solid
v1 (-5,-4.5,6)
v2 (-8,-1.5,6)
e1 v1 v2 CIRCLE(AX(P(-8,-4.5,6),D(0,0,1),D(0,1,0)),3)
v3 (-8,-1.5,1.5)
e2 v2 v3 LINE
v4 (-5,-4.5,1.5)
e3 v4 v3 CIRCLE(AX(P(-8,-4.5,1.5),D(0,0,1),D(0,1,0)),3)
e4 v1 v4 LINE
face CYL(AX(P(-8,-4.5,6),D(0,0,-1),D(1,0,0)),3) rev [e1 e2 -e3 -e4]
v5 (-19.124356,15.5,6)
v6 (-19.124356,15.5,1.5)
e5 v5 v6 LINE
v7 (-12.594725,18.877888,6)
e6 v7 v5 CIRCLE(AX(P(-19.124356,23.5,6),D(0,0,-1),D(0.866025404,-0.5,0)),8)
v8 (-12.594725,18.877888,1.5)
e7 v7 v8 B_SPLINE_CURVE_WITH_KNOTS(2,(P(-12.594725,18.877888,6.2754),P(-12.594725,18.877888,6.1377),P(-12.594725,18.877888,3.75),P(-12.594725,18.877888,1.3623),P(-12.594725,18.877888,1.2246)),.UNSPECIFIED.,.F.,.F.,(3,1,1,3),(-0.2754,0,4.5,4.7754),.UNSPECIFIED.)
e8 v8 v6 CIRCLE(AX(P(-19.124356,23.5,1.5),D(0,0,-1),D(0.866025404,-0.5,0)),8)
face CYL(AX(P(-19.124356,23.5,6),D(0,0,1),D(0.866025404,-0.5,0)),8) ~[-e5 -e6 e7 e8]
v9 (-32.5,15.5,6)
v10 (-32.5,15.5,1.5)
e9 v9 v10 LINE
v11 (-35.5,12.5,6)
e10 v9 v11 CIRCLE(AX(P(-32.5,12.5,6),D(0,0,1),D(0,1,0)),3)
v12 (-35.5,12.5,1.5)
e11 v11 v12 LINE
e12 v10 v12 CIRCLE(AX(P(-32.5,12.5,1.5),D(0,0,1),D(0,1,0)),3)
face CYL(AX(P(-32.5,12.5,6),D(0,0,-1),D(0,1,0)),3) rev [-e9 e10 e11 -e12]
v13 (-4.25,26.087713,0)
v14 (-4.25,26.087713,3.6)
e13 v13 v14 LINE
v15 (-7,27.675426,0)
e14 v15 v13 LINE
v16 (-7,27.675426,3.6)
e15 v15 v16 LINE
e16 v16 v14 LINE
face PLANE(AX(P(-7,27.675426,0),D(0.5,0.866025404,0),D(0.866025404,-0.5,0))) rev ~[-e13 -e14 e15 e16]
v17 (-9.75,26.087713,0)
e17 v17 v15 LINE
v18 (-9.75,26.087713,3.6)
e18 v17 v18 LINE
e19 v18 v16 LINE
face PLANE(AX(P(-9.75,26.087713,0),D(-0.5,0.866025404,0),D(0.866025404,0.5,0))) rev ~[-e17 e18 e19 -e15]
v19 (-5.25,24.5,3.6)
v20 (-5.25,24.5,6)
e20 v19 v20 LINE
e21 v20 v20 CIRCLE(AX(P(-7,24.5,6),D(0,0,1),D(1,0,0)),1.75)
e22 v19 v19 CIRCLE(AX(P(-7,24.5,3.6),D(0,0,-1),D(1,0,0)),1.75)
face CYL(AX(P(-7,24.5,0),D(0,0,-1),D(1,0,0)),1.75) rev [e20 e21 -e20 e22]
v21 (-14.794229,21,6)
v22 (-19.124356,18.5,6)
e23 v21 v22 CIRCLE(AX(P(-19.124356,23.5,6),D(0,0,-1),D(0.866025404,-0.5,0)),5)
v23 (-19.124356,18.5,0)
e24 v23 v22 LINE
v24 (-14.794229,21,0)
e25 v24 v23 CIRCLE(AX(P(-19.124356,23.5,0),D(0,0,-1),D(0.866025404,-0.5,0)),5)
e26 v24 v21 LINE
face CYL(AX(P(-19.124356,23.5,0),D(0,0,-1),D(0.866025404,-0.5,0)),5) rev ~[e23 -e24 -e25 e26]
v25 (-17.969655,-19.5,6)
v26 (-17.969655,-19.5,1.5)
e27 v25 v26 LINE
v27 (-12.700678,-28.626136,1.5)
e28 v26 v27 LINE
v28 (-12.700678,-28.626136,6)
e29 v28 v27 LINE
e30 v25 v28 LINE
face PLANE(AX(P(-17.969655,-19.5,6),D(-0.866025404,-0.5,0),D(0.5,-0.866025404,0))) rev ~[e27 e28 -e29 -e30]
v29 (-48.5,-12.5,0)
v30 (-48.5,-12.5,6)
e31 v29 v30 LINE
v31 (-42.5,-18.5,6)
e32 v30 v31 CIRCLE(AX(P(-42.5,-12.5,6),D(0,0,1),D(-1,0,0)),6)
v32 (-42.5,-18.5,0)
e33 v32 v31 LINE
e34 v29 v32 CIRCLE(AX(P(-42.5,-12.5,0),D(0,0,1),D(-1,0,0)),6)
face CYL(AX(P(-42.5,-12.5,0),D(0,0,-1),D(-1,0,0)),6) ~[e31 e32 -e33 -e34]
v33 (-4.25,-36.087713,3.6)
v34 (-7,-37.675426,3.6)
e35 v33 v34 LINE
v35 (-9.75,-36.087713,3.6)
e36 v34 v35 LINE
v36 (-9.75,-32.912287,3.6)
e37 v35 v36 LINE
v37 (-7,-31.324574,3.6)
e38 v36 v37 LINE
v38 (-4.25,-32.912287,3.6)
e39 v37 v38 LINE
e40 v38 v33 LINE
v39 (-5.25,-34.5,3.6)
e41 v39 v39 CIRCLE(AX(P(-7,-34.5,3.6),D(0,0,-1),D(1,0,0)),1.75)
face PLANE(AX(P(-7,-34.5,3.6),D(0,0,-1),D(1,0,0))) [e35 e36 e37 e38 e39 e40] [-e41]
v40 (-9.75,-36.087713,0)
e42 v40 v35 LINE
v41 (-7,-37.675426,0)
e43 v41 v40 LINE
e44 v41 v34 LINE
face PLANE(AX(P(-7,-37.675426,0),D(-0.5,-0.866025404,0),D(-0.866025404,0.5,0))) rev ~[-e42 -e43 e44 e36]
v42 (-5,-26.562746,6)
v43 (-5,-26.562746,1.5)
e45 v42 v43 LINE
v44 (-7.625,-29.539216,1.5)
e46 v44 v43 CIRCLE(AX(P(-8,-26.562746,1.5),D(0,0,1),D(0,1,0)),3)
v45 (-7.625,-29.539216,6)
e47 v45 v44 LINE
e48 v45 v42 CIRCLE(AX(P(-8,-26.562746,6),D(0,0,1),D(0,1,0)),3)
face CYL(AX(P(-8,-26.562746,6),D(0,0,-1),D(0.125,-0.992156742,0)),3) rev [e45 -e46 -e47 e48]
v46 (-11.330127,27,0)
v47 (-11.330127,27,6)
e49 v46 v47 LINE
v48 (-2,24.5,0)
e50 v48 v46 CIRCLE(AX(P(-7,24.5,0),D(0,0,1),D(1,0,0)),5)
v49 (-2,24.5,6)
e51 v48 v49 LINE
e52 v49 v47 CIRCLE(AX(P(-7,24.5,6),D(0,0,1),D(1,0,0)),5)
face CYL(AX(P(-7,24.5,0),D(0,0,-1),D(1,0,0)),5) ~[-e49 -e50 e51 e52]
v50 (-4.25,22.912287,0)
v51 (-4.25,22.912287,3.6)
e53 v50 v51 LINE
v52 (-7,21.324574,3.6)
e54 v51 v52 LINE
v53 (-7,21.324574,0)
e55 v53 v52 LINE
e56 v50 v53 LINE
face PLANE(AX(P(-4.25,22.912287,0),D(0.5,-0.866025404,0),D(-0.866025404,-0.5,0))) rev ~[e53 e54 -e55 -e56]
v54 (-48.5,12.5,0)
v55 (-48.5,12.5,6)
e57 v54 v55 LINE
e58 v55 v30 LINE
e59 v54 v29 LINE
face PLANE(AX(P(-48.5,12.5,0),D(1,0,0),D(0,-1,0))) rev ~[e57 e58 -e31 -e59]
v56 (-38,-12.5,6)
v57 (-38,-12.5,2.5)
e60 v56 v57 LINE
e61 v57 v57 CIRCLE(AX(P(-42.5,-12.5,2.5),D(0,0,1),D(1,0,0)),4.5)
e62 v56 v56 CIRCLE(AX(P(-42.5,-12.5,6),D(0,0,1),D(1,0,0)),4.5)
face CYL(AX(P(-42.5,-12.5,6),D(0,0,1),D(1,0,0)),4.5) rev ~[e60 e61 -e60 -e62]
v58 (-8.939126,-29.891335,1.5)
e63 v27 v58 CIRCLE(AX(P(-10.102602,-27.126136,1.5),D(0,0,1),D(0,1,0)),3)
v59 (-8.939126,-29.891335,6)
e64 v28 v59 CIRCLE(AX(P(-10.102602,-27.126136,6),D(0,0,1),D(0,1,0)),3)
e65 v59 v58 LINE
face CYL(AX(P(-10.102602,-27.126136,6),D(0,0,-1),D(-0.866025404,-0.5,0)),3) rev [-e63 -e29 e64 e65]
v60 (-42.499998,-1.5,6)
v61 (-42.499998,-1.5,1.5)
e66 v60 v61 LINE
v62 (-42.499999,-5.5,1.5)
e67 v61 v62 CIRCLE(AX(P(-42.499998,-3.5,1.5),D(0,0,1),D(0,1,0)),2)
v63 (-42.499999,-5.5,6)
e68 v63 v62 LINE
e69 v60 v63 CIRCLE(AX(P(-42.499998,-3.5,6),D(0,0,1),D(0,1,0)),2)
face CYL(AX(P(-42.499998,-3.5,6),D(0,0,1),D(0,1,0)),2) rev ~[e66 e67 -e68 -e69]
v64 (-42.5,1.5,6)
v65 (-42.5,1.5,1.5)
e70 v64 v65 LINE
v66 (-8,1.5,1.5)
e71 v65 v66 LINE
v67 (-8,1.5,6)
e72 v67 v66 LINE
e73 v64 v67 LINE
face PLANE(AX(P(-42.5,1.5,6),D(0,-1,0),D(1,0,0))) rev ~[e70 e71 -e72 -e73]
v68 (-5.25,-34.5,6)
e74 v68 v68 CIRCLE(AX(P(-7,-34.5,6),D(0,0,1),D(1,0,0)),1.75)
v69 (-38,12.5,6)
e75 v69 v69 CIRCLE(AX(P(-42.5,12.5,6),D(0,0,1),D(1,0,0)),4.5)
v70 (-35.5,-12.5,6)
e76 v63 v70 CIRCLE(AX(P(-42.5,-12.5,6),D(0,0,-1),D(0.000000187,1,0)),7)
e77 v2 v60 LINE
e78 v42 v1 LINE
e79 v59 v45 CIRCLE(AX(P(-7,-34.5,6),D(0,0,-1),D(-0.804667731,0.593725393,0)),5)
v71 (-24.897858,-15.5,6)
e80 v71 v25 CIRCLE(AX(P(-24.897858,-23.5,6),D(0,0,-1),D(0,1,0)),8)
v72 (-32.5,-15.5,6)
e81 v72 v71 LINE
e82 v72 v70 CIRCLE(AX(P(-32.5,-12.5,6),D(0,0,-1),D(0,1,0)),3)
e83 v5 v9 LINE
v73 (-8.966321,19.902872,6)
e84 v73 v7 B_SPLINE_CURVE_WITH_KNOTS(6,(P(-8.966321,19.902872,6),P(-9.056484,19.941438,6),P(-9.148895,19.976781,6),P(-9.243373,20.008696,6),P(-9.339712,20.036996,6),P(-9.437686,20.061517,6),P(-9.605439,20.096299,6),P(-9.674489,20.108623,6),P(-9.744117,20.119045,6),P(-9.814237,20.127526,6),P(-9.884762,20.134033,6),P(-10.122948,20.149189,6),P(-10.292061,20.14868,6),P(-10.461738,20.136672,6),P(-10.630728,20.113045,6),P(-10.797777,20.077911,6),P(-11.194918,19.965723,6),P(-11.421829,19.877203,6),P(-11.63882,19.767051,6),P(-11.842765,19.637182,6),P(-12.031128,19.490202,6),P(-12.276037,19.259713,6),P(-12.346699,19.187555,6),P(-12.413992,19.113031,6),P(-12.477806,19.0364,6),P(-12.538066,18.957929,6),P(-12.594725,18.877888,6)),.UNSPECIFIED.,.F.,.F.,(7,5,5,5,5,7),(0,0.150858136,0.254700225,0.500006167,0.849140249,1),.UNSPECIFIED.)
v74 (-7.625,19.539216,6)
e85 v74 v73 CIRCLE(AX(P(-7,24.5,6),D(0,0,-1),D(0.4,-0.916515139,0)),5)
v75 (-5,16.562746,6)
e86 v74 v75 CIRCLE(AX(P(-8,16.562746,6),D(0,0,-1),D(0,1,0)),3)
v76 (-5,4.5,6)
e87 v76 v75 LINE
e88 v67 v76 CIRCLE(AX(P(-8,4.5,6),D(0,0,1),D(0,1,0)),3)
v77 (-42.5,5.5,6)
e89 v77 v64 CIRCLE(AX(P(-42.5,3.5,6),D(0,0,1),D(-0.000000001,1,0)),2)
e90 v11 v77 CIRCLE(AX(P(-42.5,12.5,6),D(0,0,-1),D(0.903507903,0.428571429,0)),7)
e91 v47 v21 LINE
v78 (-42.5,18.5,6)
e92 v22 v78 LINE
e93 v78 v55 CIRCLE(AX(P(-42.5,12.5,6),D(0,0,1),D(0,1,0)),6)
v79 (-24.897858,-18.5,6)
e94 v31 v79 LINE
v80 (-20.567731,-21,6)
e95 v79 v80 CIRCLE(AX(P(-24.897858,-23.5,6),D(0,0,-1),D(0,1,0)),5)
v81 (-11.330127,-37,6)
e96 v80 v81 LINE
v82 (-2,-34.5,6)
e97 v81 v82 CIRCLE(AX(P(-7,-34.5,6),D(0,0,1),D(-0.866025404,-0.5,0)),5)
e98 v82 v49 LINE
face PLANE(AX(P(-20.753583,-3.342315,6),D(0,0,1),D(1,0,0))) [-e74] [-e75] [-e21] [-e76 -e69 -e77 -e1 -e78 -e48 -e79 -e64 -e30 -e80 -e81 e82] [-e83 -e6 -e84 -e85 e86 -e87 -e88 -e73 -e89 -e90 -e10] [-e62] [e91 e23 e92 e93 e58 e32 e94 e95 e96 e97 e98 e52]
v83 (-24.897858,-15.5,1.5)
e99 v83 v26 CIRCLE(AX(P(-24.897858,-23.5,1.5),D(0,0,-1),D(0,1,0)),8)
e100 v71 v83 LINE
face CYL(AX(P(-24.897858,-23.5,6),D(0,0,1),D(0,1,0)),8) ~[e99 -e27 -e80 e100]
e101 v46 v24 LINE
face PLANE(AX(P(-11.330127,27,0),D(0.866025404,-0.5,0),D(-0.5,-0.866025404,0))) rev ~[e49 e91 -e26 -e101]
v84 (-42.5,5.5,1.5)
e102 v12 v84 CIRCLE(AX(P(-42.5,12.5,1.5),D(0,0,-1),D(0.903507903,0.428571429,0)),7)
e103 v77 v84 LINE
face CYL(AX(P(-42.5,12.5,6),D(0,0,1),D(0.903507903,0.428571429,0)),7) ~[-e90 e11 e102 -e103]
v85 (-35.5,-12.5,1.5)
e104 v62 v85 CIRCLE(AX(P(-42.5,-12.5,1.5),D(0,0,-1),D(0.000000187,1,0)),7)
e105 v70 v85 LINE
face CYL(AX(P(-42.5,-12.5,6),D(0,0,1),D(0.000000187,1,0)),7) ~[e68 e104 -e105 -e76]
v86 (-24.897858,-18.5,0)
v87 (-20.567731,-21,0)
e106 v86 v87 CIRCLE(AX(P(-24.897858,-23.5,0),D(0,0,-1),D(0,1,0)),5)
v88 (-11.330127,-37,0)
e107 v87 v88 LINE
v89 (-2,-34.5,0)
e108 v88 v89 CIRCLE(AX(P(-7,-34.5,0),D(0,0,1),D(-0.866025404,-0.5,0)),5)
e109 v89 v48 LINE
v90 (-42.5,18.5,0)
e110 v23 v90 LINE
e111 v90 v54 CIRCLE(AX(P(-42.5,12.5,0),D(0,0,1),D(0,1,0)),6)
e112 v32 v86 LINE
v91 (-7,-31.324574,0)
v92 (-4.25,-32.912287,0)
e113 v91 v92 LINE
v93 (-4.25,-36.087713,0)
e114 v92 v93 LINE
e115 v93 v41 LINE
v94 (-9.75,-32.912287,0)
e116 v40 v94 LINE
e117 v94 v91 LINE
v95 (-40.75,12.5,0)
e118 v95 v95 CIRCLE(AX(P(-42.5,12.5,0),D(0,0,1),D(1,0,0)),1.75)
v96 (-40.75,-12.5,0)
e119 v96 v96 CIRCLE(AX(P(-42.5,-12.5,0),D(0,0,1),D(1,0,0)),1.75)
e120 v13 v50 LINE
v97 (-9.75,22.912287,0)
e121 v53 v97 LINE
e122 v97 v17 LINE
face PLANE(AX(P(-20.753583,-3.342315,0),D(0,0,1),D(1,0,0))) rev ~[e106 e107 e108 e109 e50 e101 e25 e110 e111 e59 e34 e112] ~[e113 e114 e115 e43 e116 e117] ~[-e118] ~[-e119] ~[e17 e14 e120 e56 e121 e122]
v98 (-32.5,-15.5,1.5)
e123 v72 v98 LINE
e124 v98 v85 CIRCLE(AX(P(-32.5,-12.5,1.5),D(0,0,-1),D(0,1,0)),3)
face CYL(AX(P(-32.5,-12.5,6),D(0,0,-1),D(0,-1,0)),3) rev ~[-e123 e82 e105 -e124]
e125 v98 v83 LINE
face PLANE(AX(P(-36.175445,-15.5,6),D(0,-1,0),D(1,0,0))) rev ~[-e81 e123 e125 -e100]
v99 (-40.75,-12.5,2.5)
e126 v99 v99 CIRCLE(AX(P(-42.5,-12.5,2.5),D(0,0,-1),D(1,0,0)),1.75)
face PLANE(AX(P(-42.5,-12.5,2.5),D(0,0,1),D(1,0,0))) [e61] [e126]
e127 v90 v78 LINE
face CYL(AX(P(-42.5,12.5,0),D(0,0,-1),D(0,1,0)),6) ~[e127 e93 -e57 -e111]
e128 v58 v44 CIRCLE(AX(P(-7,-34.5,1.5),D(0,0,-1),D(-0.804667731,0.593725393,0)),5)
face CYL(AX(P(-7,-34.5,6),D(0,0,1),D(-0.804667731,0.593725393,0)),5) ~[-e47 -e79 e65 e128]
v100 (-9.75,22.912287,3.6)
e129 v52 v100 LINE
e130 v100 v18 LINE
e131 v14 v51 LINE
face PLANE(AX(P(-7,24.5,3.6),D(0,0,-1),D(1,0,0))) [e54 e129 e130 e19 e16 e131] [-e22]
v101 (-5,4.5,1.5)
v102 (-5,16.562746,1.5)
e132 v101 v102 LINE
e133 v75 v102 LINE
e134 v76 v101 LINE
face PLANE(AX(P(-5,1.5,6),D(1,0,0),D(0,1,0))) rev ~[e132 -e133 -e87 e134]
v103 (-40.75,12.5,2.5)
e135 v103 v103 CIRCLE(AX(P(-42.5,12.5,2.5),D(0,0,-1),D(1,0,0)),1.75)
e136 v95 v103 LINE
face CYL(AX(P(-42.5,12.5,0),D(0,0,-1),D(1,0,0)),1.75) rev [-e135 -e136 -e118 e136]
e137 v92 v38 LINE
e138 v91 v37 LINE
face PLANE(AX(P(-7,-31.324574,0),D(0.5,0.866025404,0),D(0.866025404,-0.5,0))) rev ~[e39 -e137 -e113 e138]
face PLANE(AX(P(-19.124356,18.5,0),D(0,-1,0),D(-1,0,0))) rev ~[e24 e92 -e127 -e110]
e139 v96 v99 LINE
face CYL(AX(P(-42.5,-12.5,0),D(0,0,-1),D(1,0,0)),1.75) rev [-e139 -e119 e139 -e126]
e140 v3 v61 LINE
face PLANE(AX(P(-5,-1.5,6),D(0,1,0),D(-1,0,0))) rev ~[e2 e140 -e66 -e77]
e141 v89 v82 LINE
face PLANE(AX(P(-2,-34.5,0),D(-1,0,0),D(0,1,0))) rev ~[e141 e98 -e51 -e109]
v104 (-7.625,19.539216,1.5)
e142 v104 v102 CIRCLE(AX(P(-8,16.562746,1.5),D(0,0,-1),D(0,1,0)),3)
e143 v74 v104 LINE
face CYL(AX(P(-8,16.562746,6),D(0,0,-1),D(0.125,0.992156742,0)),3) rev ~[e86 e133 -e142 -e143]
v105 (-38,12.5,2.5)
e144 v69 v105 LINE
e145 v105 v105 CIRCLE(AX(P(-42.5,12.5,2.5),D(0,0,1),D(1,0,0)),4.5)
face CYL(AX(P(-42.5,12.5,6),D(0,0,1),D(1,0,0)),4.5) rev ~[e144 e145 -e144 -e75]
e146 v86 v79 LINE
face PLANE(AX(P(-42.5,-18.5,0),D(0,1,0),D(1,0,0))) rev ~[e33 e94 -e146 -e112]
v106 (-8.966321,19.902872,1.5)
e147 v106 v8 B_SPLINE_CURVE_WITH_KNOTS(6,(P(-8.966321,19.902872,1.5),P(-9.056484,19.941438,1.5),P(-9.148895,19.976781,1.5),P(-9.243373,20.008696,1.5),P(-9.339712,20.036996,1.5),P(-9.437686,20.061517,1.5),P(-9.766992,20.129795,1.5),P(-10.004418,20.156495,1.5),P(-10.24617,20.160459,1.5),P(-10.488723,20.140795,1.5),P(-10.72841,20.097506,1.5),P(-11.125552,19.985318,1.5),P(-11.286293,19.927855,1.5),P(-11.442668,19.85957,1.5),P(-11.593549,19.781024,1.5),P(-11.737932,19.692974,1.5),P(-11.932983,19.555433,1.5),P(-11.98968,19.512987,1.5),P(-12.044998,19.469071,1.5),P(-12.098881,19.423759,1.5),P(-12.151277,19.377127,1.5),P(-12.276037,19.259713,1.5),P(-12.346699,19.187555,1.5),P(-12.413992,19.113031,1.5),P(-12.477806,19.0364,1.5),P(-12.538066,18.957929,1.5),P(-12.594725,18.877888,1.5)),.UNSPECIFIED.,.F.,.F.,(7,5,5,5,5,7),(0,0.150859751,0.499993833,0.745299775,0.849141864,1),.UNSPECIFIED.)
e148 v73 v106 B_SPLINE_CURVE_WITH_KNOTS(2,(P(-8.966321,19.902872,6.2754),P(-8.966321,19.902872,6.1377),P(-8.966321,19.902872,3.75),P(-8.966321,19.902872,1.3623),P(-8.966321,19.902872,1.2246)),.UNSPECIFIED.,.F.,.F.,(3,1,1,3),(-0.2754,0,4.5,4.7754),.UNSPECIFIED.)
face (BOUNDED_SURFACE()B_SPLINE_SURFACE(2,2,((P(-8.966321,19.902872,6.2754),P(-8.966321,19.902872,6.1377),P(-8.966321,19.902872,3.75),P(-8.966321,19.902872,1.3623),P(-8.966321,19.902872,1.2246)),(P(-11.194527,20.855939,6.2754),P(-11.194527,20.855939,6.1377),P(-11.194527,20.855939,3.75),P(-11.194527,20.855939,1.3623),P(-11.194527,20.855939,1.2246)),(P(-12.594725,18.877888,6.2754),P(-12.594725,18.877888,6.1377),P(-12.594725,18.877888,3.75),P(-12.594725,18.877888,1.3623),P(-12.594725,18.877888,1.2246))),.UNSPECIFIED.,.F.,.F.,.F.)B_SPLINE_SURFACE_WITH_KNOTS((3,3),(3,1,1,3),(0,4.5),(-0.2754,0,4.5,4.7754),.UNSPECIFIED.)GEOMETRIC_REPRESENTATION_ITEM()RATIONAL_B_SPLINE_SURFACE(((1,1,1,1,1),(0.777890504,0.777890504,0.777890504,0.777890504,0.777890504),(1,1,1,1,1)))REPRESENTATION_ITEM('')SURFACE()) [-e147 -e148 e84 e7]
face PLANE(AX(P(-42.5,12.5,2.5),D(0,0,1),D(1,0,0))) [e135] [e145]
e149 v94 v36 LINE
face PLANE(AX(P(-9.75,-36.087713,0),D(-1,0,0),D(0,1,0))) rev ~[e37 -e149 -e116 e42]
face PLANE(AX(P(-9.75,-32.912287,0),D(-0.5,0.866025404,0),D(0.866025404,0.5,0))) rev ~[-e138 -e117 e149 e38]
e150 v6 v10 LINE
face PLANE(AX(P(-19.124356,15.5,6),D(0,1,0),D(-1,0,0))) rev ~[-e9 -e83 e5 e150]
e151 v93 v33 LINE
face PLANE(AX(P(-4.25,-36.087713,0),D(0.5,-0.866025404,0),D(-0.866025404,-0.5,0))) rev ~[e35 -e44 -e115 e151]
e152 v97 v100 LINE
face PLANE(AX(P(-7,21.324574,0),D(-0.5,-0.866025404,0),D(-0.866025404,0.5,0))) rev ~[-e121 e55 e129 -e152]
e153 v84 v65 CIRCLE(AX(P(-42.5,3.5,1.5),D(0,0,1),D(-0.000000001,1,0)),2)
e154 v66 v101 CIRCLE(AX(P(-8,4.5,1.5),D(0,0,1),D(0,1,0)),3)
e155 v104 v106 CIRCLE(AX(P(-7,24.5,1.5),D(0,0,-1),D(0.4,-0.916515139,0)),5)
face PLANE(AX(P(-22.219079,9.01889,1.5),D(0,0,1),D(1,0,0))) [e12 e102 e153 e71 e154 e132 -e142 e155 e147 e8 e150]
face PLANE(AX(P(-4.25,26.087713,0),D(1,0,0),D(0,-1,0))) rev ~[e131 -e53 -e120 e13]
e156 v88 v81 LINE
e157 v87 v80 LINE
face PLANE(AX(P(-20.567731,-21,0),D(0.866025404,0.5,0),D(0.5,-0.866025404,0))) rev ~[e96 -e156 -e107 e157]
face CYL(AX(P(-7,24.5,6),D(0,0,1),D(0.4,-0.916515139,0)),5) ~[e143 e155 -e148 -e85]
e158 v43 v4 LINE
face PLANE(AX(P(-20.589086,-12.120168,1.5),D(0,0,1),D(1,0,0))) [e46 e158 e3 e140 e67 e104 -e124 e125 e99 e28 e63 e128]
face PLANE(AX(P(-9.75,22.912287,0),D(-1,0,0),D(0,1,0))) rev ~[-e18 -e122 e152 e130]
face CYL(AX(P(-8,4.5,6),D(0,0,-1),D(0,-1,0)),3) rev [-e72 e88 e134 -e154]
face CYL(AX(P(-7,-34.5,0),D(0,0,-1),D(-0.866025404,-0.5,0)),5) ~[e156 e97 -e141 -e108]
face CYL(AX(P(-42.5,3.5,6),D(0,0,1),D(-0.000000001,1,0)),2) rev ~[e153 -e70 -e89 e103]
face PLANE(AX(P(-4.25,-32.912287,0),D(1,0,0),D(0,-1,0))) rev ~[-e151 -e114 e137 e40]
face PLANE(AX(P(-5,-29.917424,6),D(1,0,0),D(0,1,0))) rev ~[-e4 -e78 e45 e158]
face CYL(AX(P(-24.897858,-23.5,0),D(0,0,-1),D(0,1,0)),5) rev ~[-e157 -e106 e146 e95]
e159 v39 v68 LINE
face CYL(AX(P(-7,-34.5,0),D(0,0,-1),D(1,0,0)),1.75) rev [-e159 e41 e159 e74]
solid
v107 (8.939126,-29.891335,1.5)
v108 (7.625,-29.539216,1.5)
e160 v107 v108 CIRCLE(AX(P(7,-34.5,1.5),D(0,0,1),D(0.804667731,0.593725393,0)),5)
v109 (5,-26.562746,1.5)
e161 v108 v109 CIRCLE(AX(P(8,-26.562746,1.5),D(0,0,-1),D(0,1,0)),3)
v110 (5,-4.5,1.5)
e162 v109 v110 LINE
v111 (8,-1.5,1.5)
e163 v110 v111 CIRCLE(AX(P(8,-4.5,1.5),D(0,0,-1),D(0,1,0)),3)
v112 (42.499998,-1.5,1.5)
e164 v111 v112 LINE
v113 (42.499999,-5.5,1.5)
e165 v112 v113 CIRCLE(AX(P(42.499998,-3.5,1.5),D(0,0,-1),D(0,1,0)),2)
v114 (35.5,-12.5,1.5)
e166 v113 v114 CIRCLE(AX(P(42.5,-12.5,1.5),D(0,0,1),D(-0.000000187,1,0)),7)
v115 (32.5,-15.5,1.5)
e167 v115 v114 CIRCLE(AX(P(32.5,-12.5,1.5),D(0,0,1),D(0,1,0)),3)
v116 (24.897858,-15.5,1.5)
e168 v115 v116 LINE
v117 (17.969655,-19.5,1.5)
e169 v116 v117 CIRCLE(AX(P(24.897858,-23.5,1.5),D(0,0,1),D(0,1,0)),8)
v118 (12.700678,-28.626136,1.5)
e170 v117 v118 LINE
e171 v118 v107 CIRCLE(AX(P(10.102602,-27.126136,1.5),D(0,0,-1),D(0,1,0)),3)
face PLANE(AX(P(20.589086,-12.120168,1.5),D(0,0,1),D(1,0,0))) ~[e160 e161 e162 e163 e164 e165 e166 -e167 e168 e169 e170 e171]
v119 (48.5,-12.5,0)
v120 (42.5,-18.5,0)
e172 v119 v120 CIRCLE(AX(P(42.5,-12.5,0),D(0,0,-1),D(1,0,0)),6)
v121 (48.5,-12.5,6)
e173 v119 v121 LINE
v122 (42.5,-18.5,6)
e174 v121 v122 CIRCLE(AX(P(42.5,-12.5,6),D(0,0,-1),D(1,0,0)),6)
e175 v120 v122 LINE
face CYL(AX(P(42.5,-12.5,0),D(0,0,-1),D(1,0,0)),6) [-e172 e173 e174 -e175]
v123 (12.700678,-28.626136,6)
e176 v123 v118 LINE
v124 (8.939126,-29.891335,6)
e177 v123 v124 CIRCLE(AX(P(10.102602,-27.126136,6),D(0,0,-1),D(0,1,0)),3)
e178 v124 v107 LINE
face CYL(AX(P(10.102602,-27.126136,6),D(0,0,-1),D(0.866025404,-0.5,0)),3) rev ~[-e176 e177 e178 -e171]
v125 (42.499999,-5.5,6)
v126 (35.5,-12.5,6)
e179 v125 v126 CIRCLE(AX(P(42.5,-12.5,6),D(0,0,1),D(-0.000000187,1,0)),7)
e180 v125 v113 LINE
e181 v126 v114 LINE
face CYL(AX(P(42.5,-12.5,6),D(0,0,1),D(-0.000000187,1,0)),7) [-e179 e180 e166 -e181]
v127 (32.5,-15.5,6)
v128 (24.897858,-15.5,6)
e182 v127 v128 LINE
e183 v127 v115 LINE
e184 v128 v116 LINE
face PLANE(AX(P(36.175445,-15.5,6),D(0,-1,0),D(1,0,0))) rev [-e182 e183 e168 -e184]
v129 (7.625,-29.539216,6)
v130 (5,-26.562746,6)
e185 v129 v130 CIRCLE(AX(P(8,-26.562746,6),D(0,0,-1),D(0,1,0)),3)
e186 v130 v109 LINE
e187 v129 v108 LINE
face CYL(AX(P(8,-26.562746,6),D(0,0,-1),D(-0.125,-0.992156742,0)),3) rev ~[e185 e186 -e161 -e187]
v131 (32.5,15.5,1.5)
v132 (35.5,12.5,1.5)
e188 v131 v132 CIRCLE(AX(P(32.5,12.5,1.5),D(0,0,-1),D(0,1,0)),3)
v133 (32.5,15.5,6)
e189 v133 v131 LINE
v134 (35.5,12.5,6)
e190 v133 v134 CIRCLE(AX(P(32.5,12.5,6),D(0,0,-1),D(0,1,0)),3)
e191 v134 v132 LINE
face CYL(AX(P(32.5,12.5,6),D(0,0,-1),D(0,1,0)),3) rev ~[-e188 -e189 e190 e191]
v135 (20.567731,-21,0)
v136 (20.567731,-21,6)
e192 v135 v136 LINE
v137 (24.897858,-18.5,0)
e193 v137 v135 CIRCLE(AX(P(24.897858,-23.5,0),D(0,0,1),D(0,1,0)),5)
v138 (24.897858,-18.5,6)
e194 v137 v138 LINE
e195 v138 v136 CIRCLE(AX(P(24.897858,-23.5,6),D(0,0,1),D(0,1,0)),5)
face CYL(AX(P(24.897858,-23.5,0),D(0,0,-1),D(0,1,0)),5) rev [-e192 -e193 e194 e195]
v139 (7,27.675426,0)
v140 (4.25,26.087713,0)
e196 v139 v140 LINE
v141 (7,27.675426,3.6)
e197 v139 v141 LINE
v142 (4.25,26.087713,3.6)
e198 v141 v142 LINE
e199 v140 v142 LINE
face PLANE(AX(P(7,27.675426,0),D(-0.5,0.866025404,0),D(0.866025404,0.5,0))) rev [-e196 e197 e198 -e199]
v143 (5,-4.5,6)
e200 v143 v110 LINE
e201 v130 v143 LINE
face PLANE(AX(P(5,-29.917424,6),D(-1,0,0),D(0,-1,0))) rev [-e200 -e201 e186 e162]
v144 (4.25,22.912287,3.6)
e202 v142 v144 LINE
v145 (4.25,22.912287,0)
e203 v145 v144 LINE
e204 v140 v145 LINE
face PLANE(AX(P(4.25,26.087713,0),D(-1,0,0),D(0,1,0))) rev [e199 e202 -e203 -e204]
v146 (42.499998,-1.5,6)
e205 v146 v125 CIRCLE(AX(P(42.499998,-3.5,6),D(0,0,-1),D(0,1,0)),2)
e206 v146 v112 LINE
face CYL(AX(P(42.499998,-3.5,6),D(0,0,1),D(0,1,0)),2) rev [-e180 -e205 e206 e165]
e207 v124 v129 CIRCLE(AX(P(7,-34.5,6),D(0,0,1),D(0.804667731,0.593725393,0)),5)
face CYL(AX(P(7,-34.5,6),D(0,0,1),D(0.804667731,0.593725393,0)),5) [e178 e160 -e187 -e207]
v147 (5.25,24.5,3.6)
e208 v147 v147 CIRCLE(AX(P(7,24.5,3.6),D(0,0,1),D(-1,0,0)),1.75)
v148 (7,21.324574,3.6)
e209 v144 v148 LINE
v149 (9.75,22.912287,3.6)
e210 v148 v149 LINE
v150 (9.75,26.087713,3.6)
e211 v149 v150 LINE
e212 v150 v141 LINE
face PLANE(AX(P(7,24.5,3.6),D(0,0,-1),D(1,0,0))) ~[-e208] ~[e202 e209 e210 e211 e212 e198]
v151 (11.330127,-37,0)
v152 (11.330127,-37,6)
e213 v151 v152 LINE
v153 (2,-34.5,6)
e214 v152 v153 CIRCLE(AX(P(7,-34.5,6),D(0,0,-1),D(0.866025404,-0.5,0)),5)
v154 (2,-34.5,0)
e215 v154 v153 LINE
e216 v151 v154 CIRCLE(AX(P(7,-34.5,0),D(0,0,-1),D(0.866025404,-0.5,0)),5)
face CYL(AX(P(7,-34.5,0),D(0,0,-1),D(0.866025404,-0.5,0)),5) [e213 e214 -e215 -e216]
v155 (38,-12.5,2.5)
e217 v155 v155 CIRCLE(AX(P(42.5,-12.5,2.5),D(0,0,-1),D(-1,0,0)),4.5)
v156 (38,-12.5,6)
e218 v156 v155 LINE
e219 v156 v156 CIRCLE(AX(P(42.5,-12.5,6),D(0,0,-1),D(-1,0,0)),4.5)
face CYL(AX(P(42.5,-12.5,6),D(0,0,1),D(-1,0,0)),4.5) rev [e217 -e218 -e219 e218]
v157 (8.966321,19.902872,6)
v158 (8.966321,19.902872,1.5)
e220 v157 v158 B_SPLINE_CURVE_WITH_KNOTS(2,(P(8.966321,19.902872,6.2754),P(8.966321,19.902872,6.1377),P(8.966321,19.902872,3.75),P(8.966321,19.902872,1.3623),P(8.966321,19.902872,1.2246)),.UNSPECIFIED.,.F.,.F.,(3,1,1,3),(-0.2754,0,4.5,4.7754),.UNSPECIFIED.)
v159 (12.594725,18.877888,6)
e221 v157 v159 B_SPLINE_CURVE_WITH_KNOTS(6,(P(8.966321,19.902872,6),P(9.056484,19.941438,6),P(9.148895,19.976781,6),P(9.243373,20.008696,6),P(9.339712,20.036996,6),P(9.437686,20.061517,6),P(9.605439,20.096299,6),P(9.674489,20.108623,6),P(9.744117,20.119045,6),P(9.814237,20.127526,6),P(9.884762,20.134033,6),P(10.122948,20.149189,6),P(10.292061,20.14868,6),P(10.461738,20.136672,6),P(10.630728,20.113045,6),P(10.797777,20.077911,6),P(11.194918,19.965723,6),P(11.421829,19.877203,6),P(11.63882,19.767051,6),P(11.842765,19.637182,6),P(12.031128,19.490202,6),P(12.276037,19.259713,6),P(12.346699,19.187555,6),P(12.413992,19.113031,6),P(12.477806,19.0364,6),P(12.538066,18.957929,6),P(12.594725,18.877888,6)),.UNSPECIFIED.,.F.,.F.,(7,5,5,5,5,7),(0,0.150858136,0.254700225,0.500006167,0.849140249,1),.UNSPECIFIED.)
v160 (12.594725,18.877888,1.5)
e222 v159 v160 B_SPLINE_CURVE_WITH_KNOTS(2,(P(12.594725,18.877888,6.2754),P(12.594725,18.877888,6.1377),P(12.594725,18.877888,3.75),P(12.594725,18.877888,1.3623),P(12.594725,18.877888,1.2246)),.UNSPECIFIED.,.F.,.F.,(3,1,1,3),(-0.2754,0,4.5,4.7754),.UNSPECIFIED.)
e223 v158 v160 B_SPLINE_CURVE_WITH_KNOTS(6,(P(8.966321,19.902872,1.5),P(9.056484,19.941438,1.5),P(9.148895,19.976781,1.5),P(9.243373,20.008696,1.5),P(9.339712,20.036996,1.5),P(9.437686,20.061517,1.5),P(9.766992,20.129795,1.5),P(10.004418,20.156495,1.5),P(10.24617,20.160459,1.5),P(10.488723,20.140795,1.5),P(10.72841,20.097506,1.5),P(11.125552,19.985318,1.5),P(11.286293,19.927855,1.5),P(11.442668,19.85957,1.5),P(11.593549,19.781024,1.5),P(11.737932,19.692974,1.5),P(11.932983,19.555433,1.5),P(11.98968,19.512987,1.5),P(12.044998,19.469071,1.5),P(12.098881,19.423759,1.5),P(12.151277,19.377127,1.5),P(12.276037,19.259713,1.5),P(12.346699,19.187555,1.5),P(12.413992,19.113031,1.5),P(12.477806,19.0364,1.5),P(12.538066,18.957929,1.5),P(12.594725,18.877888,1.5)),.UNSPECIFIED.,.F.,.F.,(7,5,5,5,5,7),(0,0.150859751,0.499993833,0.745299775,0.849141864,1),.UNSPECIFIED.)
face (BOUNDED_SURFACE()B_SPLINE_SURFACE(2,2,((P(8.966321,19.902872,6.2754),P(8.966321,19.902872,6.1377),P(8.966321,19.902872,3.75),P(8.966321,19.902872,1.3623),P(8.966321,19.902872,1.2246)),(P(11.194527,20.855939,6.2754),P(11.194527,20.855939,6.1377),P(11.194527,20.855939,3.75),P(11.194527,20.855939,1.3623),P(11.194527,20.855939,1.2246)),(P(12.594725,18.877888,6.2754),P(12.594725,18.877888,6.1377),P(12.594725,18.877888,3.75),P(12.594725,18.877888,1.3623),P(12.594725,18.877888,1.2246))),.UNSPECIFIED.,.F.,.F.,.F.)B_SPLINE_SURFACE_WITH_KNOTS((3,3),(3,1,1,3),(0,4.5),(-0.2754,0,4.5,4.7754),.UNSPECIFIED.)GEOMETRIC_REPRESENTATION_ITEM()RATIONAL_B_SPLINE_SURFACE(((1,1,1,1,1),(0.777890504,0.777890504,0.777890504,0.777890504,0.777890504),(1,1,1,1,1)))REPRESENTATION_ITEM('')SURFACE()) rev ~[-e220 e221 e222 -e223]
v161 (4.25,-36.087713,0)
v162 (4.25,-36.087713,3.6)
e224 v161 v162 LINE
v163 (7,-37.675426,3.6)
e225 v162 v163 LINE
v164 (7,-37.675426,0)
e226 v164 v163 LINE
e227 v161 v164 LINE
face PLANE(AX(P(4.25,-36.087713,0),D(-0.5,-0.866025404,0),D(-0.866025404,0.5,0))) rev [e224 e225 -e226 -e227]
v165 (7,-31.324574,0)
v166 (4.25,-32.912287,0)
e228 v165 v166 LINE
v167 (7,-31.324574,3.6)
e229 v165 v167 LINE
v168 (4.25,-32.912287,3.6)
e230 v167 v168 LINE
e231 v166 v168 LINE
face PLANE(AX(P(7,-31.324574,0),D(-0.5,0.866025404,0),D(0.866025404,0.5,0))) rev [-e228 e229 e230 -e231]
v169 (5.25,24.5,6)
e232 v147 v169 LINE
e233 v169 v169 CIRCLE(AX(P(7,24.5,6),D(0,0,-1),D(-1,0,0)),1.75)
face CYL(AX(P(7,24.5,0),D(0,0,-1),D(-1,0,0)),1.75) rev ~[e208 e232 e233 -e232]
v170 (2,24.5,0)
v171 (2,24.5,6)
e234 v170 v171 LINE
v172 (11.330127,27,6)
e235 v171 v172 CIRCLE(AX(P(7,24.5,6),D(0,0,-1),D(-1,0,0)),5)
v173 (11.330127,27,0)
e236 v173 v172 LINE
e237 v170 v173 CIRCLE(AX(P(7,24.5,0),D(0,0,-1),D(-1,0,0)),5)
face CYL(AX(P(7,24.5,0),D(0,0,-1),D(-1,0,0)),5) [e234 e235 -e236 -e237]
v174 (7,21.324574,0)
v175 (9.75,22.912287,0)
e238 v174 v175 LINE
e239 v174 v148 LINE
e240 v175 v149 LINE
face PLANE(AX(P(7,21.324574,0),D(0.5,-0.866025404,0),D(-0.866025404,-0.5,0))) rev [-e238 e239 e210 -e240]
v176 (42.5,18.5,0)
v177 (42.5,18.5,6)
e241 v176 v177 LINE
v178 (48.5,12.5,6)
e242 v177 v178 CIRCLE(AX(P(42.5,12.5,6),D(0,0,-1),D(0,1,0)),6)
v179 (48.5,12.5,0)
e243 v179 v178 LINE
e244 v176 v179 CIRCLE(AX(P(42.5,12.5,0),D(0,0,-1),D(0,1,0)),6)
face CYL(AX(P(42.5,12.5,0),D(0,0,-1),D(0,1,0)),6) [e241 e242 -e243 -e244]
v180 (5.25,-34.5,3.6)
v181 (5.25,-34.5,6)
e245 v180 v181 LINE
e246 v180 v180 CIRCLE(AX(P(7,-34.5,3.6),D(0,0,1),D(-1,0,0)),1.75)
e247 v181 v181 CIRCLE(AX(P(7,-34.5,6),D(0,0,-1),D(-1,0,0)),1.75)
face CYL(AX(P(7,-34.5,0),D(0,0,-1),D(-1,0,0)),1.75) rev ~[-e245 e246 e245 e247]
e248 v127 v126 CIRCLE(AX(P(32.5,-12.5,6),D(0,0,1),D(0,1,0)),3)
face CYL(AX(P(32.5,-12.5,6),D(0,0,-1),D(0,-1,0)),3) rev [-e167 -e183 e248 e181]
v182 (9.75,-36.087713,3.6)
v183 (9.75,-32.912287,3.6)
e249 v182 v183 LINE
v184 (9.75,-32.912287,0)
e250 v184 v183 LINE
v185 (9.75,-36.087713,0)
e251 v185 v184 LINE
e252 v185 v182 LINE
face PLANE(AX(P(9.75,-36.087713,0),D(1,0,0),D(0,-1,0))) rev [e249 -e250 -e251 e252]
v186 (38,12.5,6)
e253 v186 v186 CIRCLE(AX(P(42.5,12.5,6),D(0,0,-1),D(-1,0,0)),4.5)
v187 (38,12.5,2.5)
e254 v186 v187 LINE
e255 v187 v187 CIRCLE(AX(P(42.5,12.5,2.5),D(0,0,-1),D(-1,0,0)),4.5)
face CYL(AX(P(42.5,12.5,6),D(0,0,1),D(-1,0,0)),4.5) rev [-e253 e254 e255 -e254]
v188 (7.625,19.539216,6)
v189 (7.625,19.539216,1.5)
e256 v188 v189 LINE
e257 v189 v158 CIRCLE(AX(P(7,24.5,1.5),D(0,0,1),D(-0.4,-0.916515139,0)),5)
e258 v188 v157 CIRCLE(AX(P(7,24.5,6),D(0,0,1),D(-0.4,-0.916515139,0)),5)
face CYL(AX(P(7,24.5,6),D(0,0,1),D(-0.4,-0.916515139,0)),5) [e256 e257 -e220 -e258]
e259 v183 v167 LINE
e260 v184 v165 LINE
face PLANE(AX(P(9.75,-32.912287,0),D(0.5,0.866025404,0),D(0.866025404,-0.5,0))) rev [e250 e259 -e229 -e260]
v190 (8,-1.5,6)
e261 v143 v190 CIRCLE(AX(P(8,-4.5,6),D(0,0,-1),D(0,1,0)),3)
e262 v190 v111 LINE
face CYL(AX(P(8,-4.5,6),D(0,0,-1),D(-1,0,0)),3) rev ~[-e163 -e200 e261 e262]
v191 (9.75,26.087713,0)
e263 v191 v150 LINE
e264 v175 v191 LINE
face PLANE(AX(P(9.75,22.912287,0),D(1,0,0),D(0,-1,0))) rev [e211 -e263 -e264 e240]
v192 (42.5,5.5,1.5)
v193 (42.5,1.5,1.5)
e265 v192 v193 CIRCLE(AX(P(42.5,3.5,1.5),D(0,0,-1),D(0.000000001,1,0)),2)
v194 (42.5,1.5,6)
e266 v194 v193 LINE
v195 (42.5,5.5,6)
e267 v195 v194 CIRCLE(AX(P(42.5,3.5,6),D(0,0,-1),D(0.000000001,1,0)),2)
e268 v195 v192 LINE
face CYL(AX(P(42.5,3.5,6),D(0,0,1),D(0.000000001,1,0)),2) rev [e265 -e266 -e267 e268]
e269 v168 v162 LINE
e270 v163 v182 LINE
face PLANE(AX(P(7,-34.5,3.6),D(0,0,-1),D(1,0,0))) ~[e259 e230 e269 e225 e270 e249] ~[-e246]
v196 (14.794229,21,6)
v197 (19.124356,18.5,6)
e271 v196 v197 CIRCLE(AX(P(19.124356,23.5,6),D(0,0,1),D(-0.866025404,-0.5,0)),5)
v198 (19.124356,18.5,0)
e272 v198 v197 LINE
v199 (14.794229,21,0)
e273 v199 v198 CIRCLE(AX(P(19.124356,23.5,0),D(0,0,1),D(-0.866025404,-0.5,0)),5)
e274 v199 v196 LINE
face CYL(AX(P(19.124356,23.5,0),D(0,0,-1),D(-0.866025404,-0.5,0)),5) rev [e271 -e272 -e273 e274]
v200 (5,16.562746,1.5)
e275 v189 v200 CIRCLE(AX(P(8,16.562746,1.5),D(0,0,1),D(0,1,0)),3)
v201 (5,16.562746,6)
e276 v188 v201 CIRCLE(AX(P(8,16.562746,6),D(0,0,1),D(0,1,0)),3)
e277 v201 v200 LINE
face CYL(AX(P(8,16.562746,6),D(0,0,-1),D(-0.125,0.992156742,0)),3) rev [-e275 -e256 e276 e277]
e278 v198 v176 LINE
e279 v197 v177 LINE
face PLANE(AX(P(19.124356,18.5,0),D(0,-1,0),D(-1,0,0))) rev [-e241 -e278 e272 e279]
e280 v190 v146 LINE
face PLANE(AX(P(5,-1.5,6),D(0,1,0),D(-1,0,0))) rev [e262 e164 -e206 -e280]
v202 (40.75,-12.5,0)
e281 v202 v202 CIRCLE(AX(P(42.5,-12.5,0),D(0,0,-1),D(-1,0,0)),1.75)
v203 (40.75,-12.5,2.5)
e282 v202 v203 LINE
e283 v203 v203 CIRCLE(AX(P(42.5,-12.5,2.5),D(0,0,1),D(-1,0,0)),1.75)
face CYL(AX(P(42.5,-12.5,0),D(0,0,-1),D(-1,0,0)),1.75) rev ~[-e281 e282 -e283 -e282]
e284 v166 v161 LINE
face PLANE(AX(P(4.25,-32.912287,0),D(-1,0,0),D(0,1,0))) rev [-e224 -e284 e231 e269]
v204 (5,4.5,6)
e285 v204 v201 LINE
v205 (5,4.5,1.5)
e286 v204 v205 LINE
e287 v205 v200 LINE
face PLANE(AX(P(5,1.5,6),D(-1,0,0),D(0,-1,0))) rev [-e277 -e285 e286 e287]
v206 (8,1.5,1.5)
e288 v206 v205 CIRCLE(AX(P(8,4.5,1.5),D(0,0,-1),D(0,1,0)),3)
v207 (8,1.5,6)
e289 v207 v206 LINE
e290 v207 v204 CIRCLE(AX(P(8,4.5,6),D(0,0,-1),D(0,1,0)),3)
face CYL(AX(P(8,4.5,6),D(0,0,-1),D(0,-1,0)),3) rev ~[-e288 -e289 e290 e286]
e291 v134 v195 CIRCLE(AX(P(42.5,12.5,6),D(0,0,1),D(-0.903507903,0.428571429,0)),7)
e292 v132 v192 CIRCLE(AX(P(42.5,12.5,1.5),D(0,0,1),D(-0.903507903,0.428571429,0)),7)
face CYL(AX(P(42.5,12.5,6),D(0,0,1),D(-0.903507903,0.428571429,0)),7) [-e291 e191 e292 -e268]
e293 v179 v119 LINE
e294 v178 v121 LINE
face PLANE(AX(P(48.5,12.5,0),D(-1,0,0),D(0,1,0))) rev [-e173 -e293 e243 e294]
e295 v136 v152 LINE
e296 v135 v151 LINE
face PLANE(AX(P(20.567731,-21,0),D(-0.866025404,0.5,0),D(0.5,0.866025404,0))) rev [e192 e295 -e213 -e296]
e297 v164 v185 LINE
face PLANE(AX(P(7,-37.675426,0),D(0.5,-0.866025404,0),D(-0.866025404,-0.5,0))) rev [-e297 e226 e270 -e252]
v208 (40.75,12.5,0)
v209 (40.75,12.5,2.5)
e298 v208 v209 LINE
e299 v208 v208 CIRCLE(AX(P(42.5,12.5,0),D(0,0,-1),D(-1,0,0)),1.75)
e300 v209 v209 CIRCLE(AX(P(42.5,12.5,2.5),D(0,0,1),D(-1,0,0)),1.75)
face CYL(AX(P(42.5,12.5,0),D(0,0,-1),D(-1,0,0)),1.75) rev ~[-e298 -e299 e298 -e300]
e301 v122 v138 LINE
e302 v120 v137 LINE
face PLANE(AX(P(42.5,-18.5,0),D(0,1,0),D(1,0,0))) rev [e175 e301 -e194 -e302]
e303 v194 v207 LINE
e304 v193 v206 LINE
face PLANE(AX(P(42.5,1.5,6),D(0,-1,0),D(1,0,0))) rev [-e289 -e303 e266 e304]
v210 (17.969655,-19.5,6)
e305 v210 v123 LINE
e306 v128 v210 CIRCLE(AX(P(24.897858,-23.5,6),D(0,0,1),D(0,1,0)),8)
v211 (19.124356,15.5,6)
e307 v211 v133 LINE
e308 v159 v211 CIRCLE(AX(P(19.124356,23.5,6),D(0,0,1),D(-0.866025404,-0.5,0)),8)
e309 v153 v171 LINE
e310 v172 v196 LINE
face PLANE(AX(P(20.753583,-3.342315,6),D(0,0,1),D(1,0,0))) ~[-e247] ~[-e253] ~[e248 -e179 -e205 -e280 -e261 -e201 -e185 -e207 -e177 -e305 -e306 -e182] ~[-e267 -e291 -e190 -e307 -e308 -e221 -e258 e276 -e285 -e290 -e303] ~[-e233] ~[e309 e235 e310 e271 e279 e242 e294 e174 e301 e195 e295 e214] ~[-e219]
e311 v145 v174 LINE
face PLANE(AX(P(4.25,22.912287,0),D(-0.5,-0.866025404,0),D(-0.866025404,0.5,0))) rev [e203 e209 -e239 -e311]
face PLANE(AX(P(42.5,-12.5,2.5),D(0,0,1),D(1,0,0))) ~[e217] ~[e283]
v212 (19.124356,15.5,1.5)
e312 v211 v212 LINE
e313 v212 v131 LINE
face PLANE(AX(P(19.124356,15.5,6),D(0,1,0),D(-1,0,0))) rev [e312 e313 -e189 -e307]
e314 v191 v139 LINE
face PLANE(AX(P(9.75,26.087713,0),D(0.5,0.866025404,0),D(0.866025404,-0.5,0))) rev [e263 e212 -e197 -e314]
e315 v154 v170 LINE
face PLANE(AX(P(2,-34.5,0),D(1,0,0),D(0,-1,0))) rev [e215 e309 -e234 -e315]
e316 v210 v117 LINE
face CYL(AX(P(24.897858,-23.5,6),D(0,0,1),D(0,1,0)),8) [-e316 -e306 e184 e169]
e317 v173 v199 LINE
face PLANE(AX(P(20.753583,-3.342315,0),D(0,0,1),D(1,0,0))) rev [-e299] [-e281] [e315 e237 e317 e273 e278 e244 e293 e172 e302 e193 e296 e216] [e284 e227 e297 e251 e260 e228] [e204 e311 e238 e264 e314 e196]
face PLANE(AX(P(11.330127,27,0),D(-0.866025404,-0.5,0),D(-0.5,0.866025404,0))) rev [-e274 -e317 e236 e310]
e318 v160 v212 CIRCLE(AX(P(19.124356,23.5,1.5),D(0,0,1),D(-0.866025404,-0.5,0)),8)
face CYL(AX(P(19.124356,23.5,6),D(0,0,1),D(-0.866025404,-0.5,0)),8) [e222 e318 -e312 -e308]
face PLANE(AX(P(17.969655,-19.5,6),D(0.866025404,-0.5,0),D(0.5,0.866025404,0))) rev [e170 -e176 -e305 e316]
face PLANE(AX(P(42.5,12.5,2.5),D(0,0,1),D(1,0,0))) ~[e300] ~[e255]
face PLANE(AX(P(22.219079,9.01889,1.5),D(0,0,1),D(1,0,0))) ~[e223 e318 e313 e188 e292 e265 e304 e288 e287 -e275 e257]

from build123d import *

# Parameters (mm, degrees)
F0_R     = 1.75
F1_DEPTH = 6
F2_R     = 4.5
F3_DEPTH = 3.5
F5_DEPTH = 3.6
F7_DEPTH = 4.5
F8_R     = 3


with BuildPart() as f1:
    # F0 (on Top) → F1 (new body)
    with BuildSketch(Plane.XY):
        with BuildLine():
            Line((-19.124355653, 18.5), (-42.5, 18.5))
            ThreePointArc((-42.5, 18.5), (-46.7426406871, 16.7426406871), (-48.5, 12.5))
            Line((-48.5, 12.5), (-48.5, -12.5))
            ThreePointArc((-48.5, -12.5), (-46.7426406871, -16.7426406871), (-42.5, -18.5))
            Line((-42.5, -18.5), (-24.8978583449, -18.5))
            ThreePointArc((-24.8978583449, -18.5), (-22.3978583449, -19.1698729811), (-20.567731326, -21))
            Line((-20.567731326, -21), (-11.3301270189, -37))
            ThreePointArc((-11.3301270189, -37), (-5.7059047745, -39.3296291314), (-2, -34.5))
            Line((-2, -34.5), (-2, 24.5))
            ThreePointArc((-2, 24.5), (-5.7059047745, 29.3296291314), (-11.3301270189, 27))
            Line((-11.3301270189, 27), (-14.7942286341, 21))
            ThreePointArc((-14.7942286341, 21), (-16.624355653, 19.1698729811), (-19.124355653, 18.5))
        make_face()
        with Locations((-42.5, -12.5)):
            Circle(F0_R, mode=Mode.SUBTRACT)
        with Locations((-7, -34.5)):
            Circle(F0_R, mode=Mode.SUBTRACT)
        with Locations((-42.5, 12.5)):
            Circle(F0_R, mode=Mode.SUBTRACT)
        with Locations((-7, 24.5)):
            Circle(F0_R, mode=Mode.SUBTRACT)
    extrude(amount=F1_DEPTH)

    # F2 (on face) → F3 (cut, through all)
    with BuildSketch(Plane.XY.offset(6)):
        with Locations((-42.5, 12.5)):
            Circle(F2_R)
        with Locations((-42.5, -12.5)):
            Circle(F2_R)
    extrude(amount=-F3_DEPTH, mode=Mode.SUBTRACT)

    # F4 (on face) → F5 (cut, through all)
    with BuildSketch(Plane(origin=(0, 0, 0), x_dir=(1, 0, 0), z_dir=(0, 0, -1))):
        Polygon((-4.25, 32.9122867597), (-4.25, 36.0877132403), (-7, 37.6754264805), (-9.75, 36.0877132403), (-9.75, 32.9122867597), (-7, 31.3245735195), align=None)
        Polygon((-4.25, -22.9122867597), (-7, -21.3245735195), (-9.75, -22.9122867597), (-9.75, -26.0877132403), (-7, -27.6754264805), (-4.25, -26.0877132403), align=None)
    extrude(amount=-F5_DEPTH, mode=Mode.SUBTRACT)

    # F6 (on face) → F7 (cut, through all)
    with BuildSketch(Plane.XY.offset(6)):
        with BuildLine():
            Line((-36.1754446797, -15.5), (-24.8978583449, -15.5))
            ThreePointArc((-24.8978583449, -15.5), (-20.8978583449, -16.5717967697), (-17.9696551146, -19.5))
            Line((-17.9696551146, -19.5), (-11.023338655, -31.5313730334))
            ThreePointArc((-11.023338655, -31.5313730334), (-8.2940952255, -29.6703708686), (-5, -29.917424305))
            Line((-5, -29.917424305), (-5, -1.5))
            Line((-5, -1.5), (-42.4999983187, -1.5))
            ThreePointArc((-42.4999983187, -1.5), (-44.4999983187, -3.4999998132), (-42.4999986923, -5.5))
            ThreePointArc((-42.4999986923, -5.5), (-36.5839198674, -8.7583431658), (-36.1754446797, -15.5))
        make_face()
        with BuildLine():
            ThreePointArc((-5, 19.917424305), (-8.2940952255, 19.6703708686), (-11.023338655, 21.5313730334))
            Line((-11.023338655, 21.5313730334), (-12.1961524227, 19.5))
            ThreePointArc((-12.1961524227, 19.5), (-15.124355653, 16.5717967697), (-19.124355653, 15.5))
            Line((-19.124355653, 15.5), (-36.1754446797, 15.5))
            ThreePointArc((-36.1754446797, 15.5), (-36.5839202147, 8.7583426167), (-42.4999999917, 5.5))
            ThreePointArc((-42.4999999917, 5.5), (-44.4999999893, 3.4999999988), (-42.4999999893, 1.5))
            Line((-42.4999999893, 1.5), (-5, 1.5))
            Line((-5, 1.5), (-5, 19.917424305))
        make_face()
    extrude(amount=-F7_DEPTH, mode=Mode.SUBTRACT)

    # F8
    f8_edges = [f1.edges().sort_by_distance(p)[0] for p in [
        (-36.175445, 15.5, 3.75),
        (-11.023339, 21.531373, 3.75),
        (-5, 19.917424, 3.75),
        (-5, 1.5, 3.75),
        (-5, -1.5, 3.75),
        (-11.023339, -31.531373, 3.75),
        (-5, -29.917424, 3.75),
        (-36.175445, -15.5, 3.75),
    ]]
    fillet(f8_edges, radius=F8_R)


with BuildPart() as f9_1:
    # F9: instance of F1
    add(f1.part.mirror(Plane.YZ))


solid = Compound([f1.part, f9_1.part])
